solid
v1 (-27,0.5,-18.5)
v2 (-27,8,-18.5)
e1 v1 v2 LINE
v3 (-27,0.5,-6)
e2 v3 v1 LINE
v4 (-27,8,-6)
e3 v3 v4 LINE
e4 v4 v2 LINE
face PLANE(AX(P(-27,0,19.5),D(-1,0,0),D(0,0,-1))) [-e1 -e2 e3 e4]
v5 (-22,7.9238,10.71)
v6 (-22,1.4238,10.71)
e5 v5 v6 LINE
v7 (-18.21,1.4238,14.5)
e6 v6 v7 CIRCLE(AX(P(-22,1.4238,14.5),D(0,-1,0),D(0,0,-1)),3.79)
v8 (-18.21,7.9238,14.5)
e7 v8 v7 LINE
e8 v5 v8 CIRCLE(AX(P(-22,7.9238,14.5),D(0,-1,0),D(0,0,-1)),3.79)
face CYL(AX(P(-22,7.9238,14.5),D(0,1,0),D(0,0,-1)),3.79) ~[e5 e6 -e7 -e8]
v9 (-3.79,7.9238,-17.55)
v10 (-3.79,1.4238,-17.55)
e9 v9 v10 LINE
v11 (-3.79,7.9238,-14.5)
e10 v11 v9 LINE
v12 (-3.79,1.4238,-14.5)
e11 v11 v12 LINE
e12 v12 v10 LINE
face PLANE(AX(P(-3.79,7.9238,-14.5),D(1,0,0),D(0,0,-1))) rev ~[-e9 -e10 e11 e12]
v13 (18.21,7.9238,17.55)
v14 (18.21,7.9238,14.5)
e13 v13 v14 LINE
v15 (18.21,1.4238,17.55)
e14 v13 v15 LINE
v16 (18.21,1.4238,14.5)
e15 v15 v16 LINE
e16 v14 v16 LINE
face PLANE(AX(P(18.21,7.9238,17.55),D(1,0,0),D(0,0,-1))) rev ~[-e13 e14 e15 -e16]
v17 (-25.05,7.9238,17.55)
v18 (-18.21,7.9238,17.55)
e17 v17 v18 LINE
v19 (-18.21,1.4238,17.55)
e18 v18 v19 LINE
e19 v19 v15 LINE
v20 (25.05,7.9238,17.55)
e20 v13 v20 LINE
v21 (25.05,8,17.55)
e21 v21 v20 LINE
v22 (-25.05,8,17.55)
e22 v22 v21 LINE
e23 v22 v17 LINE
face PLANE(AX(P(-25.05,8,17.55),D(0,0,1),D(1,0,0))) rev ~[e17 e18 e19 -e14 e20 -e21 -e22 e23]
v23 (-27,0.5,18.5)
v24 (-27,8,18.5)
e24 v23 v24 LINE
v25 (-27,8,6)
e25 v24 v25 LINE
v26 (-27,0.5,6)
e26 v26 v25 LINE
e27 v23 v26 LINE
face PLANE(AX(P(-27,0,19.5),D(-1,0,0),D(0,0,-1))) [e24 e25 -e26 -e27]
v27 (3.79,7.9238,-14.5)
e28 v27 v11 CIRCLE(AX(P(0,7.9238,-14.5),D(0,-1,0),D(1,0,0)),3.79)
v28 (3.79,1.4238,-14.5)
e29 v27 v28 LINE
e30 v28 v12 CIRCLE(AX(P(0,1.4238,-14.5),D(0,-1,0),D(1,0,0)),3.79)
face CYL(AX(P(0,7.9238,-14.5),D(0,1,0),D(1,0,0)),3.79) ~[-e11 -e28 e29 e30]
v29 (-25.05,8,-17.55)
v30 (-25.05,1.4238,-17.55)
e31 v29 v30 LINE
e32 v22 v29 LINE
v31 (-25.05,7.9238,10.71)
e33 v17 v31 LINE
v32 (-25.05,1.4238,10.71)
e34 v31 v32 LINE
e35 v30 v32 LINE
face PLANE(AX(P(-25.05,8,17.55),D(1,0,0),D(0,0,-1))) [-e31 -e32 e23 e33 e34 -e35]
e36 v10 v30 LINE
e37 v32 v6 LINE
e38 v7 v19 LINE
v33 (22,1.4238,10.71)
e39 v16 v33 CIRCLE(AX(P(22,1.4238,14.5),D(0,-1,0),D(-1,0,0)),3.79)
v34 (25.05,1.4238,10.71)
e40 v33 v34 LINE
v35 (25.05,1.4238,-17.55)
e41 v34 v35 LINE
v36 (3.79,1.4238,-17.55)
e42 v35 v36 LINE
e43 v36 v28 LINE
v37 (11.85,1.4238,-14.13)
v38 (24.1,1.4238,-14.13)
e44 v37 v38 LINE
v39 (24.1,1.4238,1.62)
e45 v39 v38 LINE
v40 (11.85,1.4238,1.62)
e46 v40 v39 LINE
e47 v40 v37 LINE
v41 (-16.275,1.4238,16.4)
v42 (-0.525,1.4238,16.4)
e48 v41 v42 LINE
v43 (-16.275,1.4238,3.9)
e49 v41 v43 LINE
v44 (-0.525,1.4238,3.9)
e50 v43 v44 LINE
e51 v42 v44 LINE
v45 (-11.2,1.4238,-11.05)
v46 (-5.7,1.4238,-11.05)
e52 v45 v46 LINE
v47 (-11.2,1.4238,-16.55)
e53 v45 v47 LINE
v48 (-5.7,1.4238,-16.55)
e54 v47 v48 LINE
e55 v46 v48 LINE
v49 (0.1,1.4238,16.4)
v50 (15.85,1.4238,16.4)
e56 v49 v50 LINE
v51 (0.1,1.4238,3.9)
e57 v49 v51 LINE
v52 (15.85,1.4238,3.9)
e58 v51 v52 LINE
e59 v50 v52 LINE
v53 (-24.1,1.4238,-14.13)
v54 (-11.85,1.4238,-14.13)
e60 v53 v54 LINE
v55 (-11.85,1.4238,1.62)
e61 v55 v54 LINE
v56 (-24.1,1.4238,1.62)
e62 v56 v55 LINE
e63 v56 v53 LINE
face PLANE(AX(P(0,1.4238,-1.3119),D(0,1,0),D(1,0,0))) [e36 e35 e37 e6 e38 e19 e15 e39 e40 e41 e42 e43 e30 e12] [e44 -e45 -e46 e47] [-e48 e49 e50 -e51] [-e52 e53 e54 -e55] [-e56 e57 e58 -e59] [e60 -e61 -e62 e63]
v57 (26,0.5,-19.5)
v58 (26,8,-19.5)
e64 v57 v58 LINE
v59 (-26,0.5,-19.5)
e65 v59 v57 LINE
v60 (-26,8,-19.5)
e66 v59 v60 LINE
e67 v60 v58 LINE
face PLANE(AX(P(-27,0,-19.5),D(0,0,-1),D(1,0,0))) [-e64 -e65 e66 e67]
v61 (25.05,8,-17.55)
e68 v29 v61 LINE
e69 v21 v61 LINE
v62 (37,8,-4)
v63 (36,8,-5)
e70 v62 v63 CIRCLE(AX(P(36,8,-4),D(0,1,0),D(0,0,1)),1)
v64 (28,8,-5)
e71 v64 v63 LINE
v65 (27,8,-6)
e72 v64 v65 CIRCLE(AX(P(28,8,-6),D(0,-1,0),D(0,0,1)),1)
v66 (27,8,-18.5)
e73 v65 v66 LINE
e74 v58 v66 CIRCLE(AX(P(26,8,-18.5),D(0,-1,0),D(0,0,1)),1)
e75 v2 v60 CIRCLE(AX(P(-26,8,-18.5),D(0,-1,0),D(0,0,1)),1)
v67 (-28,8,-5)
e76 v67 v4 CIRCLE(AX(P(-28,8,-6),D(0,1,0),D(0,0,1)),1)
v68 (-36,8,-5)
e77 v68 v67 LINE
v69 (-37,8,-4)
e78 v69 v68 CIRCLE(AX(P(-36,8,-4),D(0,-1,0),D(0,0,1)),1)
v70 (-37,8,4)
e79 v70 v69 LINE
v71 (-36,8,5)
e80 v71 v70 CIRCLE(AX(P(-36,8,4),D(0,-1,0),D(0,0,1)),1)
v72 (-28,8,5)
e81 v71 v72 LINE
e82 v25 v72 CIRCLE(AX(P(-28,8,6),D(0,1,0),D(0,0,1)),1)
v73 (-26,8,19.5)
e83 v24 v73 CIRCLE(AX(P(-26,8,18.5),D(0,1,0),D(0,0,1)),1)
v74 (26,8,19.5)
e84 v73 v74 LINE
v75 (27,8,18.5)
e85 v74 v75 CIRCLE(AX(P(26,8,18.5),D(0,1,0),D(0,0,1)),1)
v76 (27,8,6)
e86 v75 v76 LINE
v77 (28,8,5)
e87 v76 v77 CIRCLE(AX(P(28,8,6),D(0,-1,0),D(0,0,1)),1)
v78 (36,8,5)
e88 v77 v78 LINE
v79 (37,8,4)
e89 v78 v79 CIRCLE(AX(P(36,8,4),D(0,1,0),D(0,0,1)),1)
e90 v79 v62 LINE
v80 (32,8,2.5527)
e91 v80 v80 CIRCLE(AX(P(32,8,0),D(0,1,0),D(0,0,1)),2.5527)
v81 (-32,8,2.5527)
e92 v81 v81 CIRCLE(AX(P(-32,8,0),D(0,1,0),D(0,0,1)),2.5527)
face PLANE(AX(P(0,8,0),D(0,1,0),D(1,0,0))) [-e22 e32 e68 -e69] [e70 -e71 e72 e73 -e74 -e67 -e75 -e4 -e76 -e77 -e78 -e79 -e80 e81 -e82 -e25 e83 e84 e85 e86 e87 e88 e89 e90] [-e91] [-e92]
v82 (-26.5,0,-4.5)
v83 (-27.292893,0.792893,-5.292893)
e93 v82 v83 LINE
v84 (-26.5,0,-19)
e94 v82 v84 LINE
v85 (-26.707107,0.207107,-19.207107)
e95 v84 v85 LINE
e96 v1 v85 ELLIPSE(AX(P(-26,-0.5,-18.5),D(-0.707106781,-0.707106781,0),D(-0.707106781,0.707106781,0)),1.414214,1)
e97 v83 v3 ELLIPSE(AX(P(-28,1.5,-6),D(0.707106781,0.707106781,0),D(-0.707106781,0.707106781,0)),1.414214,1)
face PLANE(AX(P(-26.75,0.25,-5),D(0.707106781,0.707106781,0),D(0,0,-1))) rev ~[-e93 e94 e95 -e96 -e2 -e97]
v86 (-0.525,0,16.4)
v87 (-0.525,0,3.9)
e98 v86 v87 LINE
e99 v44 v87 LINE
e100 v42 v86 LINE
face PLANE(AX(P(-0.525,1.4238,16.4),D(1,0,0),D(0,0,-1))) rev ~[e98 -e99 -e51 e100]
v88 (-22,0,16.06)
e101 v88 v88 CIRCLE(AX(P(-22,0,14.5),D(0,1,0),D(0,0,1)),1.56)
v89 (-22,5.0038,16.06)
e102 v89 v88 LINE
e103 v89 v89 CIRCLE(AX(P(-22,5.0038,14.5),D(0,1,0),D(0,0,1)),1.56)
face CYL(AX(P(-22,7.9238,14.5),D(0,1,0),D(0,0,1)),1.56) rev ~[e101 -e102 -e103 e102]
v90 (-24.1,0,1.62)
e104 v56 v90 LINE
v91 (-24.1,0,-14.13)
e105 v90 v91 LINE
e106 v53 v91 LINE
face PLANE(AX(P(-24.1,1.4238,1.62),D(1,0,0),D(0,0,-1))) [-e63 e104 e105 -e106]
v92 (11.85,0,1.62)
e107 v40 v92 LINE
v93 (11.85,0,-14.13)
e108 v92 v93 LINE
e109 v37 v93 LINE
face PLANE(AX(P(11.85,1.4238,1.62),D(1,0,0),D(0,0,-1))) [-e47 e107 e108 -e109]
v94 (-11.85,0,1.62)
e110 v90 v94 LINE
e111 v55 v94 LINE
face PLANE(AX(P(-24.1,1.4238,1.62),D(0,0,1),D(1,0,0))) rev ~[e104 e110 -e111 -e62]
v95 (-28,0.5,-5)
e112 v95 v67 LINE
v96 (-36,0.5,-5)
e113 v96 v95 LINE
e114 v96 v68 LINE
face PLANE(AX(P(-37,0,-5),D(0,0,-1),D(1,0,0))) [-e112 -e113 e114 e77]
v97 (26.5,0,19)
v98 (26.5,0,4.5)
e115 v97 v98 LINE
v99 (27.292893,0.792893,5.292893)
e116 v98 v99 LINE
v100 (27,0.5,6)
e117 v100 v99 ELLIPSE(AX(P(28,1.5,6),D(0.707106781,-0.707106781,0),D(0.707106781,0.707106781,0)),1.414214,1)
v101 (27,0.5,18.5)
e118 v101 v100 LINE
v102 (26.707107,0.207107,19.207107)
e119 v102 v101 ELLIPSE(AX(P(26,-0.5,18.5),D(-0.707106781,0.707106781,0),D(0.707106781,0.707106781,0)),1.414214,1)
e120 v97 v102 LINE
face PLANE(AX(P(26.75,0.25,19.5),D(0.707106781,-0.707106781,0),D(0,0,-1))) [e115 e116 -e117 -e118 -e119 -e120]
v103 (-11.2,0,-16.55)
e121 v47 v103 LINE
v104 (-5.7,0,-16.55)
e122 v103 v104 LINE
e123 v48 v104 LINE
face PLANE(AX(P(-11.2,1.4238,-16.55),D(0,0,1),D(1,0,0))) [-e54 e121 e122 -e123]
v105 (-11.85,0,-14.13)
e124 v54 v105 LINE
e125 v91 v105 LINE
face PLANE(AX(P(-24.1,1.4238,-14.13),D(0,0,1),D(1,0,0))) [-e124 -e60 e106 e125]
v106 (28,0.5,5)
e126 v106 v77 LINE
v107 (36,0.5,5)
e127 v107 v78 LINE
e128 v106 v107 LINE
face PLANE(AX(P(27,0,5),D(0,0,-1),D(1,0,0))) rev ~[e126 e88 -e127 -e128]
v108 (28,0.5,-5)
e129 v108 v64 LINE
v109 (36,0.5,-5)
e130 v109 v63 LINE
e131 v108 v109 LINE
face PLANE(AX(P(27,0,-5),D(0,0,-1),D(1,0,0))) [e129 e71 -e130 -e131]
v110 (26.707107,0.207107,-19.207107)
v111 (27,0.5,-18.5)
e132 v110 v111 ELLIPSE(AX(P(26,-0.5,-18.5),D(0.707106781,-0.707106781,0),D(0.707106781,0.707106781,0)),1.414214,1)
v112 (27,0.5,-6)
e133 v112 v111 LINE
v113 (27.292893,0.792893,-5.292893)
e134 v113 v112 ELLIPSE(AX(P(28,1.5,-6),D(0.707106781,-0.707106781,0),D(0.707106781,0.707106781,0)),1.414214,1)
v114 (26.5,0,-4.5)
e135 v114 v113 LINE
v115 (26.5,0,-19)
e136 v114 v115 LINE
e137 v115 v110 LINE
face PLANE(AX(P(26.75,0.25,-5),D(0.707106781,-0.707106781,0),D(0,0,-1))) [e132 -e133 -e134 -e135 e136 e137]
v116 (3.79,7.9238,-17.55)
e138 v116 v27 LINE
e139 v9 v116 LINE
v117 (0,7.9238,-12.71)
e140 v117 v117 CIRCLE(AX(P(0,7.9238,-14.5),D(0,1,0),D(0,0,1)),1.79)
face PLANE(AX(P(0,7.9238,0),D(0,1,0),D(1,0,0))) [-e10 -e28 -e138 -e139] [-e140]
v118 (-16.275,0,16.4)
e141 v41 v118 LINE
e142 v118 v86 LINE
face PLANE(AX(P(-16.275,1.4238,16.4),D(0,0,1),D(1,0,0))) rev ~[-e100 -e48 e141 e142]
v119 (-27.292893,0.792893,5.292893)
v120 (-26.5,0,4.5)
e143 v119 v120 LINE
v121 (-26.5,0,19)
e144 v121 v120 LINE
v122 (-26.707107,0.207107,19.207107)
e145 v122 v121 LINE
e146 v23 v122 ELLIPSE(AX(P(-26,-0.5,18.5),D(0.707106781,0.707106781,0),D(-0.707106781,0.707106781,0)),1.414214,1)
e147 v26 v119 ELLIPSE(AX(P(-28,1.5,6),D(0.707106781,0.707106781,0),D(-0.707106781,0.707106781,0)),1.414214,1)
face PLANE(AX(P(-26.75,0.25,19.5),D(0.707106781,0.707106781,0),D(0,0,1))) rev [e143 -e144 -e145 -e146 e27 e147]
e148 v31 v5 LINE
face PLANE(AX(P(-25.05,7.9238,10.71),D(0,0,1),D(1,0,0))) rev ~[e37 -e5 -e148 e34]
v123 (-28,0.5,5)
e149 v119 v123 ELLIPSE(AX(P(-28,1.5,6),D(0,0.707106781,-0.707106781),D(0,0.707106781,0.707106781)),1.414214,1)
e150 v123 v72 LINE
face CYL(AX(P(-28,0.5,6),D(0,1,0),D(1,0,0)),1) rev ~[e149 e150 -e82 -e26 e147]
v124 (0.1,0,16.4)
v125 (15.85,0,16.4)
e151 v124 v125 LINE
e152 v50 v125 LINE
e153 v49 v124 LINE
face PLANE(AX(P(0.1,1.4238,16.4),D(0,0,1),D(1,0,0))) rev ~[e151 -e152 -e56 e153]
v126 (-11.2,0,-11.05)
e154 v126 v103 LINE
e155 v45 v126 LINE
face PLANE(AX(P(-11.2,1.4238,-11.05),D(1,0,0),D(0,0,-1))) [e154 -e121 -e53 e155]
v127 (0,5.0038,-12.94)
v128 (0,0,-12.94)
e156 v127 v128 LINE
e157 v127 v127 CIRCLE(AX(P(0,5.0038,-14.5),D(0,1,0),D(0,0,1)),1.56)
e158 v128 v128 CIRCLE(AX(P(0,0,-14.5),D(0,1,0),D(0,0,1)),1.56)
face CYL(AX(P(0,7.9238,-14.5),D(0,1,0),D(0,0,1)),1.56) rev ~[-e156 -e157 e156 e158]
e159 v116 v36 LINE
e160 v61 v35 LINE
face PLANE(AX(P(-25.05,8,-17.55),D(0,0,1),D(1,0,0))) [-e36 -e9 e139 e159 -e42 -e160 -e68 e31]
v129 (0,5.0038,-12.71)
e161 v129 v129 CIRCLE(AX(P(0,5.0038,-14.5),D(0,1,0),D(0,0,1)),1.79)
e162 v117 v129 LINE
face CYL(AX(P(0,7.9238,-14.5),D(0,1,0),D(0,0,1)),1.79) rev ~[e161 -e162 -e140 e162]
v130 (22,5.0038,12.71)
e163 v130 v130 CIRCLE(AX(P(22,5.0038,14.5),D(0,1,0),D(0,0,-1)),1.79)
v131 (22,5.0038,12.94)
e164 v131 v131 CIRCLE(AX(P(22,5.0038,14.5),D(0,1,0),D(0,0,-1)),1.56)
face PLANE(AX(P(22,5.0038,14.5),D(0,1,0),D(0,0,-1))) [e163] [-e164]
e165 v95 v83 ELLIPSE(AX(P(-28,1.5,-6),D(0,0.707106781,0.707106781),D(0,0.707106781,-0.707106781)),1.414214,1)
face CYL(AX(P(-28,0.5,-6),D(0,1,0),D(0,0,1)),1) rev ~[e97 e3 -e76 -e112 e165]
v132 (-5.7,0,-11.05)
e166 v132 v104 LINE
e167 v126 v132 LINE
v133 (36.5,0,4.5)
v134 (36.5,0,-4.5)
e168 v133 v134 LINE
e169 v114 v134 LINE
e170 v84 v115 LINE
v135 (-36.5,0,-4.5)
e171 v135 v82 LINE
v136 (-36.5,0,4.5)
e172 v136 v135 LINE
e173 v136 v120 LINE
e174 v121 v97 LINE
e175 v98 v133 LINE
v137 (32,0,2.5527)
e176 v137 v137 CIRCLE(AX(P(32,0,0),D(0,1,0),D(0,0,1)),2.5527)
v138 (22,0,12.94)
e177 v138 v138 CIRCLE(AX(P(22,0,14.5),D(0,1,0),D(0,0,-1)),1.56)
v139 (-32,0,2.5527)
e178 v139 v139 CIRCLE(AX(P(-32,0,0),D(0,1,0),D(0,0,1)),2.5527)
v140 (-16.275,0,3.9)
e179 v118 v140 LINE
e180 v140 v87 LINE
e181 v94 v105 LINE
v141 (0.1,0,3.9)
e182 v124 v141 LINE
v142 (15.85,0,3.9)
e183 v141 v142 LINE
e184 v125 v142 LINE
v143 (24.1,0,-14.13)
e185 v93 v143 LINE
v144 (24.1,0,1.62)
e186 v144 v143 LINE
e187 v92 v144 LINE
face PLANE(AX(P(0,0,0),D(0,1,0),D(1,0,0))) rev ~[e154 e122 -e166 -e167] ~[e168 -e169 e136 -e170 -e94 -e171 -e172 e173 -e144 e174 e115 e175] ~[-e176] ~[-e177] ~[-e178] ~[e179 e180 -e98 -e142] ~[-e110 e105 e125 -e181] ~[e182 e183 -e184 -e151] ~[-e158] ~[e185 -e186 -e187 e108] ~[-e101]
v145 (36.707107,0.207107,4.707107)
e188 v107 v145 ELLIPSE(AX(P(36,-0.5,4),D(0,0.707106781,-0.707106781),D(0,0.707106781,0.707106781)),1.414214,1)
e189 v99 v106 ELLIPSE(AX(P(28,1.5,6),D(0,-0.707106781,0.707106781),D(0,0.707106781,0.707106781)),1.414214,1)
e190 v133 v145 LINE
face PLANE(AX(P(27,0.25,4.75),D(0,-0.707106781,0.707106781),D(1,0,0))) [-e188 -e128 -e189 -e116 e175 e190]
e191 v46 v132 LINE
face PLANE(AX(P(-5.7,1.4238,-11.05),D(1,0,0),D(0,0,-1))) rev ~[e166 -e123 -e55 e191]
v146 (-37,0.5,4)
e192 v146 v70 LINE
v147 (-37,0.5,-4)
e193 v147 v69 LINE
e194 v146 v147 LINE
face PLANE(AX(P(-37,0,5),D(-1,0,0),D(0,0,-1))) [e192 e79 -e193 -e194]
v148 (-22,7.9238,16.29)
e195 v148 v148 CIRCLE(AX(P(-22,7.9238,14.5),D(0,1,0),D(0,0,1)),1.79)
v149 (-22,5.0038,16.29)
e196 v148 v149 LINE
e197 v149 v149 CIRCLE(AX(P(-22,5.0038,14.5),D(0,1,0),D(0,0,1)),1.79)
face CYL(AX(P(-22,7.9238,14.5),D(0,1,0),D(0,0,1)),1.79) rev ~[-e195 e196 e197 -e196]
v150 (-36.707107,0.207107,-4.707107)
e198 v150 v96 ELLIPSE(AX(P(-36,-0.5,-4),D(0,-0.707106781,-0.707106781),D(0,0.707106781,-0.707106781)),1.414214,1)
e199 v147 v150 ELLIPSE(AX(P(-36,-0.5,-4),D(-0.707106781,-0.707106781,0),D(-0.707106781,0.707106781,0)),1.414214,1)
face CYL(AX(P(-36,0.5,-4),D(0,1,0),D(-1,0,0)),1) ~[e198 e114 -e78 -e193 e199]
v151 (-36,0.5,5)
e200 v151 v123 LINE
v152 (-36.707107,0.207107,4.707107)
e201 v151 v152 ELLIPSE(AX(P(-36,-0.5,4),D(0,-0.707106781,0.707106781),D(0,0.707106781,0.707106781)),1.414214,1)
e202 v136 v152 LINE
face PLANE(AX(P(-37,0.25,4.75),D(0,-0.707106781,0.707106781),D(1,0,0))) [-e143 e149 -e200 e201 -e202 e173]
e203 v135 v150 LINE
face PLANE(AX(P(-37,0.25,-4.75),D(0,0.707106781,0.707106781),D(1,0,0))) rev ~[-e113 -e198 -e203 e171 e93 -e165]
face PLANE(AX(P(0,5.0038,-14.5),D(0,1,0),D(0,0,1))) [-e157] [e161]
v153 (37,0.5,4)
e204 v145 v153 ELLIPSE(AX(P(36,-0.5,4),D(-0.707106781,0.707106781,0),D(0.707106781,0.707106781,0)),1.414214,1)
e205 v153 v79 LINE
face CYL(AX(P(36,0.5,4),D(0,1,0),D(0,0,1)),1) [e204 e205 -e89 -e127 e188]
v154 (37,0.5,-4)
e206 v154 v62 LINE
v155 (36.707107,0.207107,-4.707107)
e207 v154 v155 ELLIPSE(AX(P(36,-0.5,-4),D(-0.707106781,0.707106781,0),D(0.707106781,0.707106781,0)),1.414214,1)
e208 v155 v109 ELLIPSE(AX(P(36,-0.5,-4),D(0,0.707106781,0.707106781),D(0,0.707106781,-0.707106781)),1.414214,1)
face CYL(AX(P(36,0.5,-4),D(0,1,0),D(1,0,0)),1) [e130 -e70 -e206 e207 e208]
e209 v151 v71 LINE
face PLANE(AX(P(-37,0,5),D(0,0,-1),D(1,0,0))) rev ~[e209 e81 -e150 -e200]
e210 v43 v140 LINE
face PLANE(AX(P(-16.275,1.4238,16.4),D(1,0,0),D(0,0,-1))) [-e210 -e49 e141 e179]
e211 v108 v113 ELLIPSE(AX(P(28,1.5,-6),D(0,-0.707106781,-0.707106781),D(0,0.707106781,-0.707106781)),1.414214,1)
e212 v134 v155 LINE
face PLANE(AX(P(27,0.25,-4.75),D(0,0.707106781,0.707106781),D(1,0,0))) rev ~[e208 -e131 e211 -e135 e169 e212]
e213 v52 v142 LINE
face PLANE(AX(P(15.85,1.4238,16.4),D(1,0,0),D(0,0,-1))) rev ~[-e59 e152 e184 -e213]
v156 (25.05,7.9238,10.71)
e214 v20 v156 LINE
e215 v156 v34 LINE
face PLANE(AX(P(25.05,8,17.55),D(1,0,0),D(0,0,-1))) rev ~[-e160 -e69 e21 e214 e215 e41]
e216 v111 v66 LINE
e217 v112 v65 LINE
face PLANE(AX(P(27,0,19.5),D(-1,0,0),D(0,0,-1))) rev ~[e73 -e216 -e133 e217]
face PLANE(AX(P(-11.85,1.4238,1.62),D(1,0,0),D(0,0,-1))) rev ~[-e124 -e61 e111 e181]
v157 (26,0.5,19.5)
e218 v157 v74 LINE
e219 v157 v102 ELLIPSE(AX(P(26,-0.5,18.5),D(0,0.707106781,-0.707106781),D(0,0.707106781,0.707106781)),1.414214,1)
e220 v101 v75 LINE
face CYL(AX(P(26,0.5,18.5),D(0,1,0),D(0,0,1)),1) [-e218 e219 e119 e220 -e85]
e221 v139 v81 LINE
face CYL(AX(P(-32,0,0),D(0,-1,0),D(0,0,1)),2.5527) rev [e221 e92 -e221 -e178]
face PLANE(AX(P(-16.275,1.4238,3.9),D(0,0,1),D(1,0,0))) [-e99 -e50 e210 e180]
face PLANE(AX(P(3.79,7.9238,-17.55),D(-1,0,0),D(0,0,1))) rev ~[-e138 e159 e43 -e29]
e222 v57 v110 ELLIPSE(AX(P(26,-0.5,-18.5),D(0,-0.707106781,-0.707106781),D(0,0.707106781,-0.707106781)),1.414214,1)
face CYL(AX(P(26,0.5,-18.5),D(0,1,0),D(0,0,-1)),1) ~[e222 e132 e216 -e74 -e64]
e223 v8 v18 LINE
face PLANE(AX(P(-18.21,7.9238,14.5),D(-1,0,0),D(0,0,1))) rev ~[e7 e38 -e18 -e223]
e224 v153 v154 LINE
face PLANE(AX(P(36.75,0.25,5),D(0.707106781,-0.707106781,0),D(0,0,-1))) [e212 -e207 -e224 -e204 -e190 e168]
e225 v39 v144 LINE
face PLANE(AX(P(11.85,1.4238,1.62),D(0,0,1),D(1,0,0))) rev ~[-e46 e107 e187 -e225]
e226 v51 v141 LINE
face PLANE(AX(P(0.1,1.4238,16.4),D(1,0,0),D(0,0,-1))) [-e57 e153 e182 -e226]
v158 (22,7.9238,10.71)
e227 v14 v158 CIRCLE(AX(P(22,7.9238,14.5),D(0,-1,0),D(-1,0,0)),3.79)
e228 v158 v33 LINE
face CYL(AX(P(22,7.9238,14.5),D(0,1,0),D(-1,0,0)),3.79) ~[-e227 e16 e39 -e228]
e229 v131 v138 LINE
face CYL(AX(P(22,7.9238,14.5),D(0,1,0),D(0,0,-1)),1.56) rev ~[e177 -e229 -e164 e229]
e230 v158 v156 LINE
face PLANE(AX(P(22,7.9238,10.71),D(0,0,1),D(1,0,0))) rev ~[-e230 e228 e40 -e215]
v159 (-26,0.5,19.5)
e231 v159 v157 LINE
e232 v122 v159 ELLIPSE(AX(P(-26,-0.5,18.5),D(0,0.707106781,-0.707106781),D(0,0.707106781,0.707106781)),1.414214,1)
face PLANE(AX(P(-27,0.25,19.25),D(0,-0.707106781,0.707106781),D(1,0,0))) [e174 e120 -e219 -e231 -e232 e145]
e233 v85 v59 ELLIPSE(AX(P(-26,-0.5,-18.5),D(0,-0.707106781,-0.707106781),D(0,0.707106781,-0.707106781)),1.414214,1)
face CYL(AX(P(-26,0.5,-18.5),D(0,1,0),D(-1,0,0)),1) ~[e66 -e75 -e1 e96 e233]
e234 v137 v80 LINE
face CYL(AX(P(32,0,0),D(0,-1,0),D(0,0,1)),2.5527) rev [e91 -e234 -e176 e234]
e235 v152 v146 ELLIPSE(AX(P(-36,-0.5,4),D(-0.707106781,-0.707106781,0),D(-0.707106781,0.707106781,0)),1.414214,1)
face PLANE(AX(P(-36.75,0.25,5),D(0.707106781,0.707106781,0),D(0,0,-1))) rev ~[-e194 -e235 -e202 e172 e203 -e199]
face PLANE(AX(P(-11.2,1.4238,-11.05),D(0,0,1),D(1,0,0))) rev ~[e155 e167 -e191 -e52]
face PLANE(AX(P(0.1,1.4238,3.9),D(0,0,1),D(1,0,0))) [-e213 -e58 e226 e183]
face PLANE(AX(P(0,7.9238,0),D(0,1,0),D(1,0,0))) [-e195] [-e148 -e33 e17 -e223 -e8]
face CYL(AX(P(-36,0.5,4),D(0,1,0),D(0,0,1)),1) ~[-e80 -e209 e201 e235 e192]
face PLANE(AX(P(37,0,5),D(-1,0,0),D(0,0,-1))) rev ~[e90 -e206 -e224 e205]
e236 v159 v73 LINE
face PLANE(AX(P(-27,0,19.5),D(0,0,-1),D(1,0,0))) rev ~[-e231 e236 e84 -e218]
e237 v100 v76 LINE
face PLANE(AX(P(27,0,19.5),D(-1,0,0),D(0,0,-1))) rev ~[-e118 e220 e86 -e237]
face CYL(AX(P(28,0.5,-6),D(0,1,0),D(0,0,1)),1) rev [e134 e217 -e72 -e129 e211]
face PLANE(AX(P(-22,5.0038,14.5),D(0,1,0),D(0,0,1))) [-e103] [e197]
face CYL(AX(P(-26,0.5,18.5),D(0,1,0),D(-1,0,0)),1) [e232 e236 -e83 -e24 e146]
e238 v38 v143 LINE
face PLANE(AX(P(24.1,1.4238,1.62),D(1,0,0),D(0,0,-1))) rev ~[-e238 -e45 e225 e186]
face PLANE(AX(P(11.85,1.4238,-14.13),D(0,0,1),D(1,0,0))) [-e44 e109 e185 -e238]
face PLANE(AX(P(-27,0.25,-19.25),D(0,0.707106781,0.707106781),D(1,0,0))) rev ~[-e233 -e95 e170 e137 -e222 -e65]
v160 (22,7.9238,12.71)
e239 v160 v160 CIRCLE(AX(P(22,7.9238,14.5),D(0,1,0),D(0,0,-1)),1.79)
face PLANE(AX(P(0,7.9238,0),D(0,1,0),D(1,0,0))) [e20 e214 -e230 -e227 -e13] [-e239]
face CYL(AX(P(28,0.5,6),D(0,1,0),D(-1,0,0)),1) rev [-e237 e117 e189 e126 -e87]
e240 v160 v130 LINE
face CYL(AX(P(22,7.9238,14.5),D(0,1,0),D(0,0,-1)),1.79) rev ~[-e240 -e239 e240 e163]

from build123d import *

# Parameters (mm, degrees)
SKETCH1_W           = 54
SKETCH1_H           = 39
SKETCH1_W_2         = 10
SKETCH1_H_2         = 10
SKETCH1_R           = 2.5527
BOSS_EXTRUDE1_DEPTH = 8
SKETCH2_W           = 50.1
SKETCH2_H           = 35.1
CUT_EXTRUDE1_DEPTH  = 0.0762
CUT_EXTRUDE2_DEPTH  = 6.5
SKETCH4_R           = 1.56
CUT_EXTRUDE3_DEPTH  = 43.568023286
SKETCH5_R           = 1.79
CUT_EXTRUDE4_DEPTH  = 2.92
SKETCH6_W           = 12.25
SKETCH6_H           = 15.75
SKETCH6_W_2         = 15.75
SKETCH6_H_2         = 12.5
SKETCH6_W_3         = 5.5
SKETCH6_H_3         = 5.5
CUT_EXTRUDE5_DEPTH  = 43.337883821
CHAMFER1_SIZE       = 0.5
FILLET1_R           = 1


with BuildPart() as part:
    # Sketch1 → Boss-Extrude1 (new body)
    # profile 1 of 3: a face of its own
    with BuildSketch(Plane(origin=(0, 0, 0), x_dir=(1, 0, 0), z_dir=(0, 1, 0))):
        Rectangle(SKETCH1_W, SKETCH1_H)
    # profile 2 of 3: a face of its own
    with BuildSketch(Plane(origin=(0, 0, 0), x_dir=(1, 0, 0), z_dir=(0, 1, 0))):
        with Locations((32, 0)):
            Rectangle(SKETCH1_W_2, SKETCH1_H_2)
        with Locations(Location((32, 0, 0), (0, 0, 270))):
            Circle(SKETCH1_R, mode=Mode.SUBTRACT)
    # profile 3 of 3: a face of its own
    with BuildSketch(Plane(origin=(0, 0, 0), x_dir=(1, 0, 0), z_dir=(0, 1, 0))):
        with Locations((-32, 0)):
            Rectangle(SKETCH1_W_2, SKETCH1_H_2)
        with Locations(Location((-32, 0, 0), (0, 0, 270))):
            Circle(SKETCH1_R, mode=Mode.SUBTRACT)
    extrude(amount=BOSS_EXTRUDE1_DEPTH)

    # Sketch2 → Cut-Extrude1 (cut)
    with BuildSketch(Plane(origin=(0, 8, 0), x_dir=(1, 0, 0), z_dir=(0, 1, 0))):
        Rectangle(SKETCH2_W, SKETCH2_H)
    extrude(amount=-CUT_EXTRUDE1_DEPTH, mode=Mode.SUBTRACT)

    # Sketch3 → Cut-Extrude2 (cut)
    with BuildSketch(Plane(origin=(0, 7.9238, 0), x_dir=(1, 0, 0), z_dir=(0, 1, 0))):
        with BuildLine():
            Line((-3.79, 14.5), (-3.79, 17.55))
            Line((-3.79, 17.55), (-25.05, 17.55))
            Line((-25.05, 17.55), (-25.05, -10.71))
            Line((-25.05, -10.71), (-22, -10.71))
            ThreePointArc((-22, -10.71), (-19.320065299, -11.820065299), (-18.21, -14.5))
            Line((-18.21, -14.5), (-18.21, -17.55))
            Line((-18.21, -17.55), (18.21, -17.55))
            Line((18.21, -17.55), (18.21, -14.5))
            ThreePointArc((18.21, -14.5), (19.320065299, -11.820065299), (22, -10.71))
            Line((22, -10.71), (25.05, -10.71))
            Line((25.05, -10.71), (25.05, 17.55))
            Line((25.05, 17.55), (3.79, 17.55))
            Line((3.79, 17.55), (3.79, 14.5))
            ThreePointArc((3.79, 14.5), (0, 10.71), (-3.79, 14.5))
        make_face()
    extrude(amount=-CUT_EXTRUDE2_DEPTH, mode=Mode.SUBTRACT)

    # Sketch4 → Cut-Extrude3 (cut, through all)
    with BuildSketch(Plane(origin=(0, 7.9238, 0), x_dir=(1, 0, 0), z_dir=(0, 1, 0))):
        with Locations(Location((0, 14.5, 0), (0, 0, 270))):
            Circle(SKETCH4_R)
        with Locations(Location((-22, -14.5, 0), (0, 0, 270))):
            Circle(SKETCH4_R)
        with Locations(Location((22, -14.5, 0), (0, 0, 90))):
            Circle(SKETCH4_R)
    extrude(amount=-CUT_EXTRUDE3_DEPTH, mode=Mode.SUBTRACT)

    # Sketch5 → Cut-Extrude4 (cut)
    with BuildSketch(Plane(origin=(0, 7.9238, 0), x_dir=(1, 0, 0), z_dir=(0, 1, 0))):
        with Locations(Location((0, 14.5, 0), (0, 0, 270))):
            Circle(SKETCH5_R)
        with Locations(Location((-22, -14.5, 0), (0, 0, 270))):
            Circle(SKETCH5_R)
        with Locations(Location((22, -14.5, 0), (0, 0, 90))):
            Circle(SKETCH5_R)
    extrude(amount=-CUT_EXTRUDE4_DEPTH, mode=Mode.SUBTRACT)

    # Sketch6 → Cut-Extrude5 (cut, through all)
    with BuildSketch(Plane(origin=(0, 1.4238, 0), x_dir=(1, 0, 0), z_dir=(0, 1, 0))):
        with Locations((17.975, 6.255)):
            Rectangle(SKETCH6_W, SKETCH6_H)
        with Locations((7.975, -10.15)):
            Rectangle(SKETCH6_W_2, SKETCH6_H_2)
        with Locations((-17.975, 6.255)):
            Rectangle(SKETCH6_W, SKETCH6_H)
        with Locations((-8.4, -10.15)):
            Rectangle(SKETCH6_W_2, SKETCH6_H_2)
        with Locations((-8.45, 13.8)):
            Rectangle(SKETCH6_W_3, SKETCH6_H_3)
    extrude(amount=-CUT_EXTRUDE5_DEPTH, mode=Mode.SUBTRACT)

    # Chamfer1
    chamfer1_edges = [part.edges().sort_by_distance(p)[0] for p in [
        (-27, 0, 12.25),
        (-32, 0, 5),
        (-37, 0, 0),
        (-32, 0, -5),
        (-27, 0, -12.25),
        (0, 0, -19.5),
        (27, 0, -12.25),
        (32, 0, -5),
        (37, 0, 0),
        (32, 0, 5),
        (27, 0, 12.25),
        (0, 0, 19.5),
    ]]
    chamfer(chamfer1_edges, length=CHAMFER1_SIZE)

    # Fillet1
    fillet1_edges = [part.edges().sort_by_distance(p)[0] for p in [
        (-27, 4.25, 19.5),
        (-27, 4.25, 5),
        (-37, 4.25, 5),
        (-37, 4.25, -5),
        (-27, 4.25, -5),
        (-27, 4.25, -19.5),
        (27, 4.25, -19.5),
        (27, 4.25, -5),
        (37, 4.25, -5),
        (37, 4.25, 5),
        (27, 4.25, 5),
        (27, 4.25, 19.5),
    ]]
    fillet(fillet1_edges, radius=FILLET1_R)


solid = part.part
